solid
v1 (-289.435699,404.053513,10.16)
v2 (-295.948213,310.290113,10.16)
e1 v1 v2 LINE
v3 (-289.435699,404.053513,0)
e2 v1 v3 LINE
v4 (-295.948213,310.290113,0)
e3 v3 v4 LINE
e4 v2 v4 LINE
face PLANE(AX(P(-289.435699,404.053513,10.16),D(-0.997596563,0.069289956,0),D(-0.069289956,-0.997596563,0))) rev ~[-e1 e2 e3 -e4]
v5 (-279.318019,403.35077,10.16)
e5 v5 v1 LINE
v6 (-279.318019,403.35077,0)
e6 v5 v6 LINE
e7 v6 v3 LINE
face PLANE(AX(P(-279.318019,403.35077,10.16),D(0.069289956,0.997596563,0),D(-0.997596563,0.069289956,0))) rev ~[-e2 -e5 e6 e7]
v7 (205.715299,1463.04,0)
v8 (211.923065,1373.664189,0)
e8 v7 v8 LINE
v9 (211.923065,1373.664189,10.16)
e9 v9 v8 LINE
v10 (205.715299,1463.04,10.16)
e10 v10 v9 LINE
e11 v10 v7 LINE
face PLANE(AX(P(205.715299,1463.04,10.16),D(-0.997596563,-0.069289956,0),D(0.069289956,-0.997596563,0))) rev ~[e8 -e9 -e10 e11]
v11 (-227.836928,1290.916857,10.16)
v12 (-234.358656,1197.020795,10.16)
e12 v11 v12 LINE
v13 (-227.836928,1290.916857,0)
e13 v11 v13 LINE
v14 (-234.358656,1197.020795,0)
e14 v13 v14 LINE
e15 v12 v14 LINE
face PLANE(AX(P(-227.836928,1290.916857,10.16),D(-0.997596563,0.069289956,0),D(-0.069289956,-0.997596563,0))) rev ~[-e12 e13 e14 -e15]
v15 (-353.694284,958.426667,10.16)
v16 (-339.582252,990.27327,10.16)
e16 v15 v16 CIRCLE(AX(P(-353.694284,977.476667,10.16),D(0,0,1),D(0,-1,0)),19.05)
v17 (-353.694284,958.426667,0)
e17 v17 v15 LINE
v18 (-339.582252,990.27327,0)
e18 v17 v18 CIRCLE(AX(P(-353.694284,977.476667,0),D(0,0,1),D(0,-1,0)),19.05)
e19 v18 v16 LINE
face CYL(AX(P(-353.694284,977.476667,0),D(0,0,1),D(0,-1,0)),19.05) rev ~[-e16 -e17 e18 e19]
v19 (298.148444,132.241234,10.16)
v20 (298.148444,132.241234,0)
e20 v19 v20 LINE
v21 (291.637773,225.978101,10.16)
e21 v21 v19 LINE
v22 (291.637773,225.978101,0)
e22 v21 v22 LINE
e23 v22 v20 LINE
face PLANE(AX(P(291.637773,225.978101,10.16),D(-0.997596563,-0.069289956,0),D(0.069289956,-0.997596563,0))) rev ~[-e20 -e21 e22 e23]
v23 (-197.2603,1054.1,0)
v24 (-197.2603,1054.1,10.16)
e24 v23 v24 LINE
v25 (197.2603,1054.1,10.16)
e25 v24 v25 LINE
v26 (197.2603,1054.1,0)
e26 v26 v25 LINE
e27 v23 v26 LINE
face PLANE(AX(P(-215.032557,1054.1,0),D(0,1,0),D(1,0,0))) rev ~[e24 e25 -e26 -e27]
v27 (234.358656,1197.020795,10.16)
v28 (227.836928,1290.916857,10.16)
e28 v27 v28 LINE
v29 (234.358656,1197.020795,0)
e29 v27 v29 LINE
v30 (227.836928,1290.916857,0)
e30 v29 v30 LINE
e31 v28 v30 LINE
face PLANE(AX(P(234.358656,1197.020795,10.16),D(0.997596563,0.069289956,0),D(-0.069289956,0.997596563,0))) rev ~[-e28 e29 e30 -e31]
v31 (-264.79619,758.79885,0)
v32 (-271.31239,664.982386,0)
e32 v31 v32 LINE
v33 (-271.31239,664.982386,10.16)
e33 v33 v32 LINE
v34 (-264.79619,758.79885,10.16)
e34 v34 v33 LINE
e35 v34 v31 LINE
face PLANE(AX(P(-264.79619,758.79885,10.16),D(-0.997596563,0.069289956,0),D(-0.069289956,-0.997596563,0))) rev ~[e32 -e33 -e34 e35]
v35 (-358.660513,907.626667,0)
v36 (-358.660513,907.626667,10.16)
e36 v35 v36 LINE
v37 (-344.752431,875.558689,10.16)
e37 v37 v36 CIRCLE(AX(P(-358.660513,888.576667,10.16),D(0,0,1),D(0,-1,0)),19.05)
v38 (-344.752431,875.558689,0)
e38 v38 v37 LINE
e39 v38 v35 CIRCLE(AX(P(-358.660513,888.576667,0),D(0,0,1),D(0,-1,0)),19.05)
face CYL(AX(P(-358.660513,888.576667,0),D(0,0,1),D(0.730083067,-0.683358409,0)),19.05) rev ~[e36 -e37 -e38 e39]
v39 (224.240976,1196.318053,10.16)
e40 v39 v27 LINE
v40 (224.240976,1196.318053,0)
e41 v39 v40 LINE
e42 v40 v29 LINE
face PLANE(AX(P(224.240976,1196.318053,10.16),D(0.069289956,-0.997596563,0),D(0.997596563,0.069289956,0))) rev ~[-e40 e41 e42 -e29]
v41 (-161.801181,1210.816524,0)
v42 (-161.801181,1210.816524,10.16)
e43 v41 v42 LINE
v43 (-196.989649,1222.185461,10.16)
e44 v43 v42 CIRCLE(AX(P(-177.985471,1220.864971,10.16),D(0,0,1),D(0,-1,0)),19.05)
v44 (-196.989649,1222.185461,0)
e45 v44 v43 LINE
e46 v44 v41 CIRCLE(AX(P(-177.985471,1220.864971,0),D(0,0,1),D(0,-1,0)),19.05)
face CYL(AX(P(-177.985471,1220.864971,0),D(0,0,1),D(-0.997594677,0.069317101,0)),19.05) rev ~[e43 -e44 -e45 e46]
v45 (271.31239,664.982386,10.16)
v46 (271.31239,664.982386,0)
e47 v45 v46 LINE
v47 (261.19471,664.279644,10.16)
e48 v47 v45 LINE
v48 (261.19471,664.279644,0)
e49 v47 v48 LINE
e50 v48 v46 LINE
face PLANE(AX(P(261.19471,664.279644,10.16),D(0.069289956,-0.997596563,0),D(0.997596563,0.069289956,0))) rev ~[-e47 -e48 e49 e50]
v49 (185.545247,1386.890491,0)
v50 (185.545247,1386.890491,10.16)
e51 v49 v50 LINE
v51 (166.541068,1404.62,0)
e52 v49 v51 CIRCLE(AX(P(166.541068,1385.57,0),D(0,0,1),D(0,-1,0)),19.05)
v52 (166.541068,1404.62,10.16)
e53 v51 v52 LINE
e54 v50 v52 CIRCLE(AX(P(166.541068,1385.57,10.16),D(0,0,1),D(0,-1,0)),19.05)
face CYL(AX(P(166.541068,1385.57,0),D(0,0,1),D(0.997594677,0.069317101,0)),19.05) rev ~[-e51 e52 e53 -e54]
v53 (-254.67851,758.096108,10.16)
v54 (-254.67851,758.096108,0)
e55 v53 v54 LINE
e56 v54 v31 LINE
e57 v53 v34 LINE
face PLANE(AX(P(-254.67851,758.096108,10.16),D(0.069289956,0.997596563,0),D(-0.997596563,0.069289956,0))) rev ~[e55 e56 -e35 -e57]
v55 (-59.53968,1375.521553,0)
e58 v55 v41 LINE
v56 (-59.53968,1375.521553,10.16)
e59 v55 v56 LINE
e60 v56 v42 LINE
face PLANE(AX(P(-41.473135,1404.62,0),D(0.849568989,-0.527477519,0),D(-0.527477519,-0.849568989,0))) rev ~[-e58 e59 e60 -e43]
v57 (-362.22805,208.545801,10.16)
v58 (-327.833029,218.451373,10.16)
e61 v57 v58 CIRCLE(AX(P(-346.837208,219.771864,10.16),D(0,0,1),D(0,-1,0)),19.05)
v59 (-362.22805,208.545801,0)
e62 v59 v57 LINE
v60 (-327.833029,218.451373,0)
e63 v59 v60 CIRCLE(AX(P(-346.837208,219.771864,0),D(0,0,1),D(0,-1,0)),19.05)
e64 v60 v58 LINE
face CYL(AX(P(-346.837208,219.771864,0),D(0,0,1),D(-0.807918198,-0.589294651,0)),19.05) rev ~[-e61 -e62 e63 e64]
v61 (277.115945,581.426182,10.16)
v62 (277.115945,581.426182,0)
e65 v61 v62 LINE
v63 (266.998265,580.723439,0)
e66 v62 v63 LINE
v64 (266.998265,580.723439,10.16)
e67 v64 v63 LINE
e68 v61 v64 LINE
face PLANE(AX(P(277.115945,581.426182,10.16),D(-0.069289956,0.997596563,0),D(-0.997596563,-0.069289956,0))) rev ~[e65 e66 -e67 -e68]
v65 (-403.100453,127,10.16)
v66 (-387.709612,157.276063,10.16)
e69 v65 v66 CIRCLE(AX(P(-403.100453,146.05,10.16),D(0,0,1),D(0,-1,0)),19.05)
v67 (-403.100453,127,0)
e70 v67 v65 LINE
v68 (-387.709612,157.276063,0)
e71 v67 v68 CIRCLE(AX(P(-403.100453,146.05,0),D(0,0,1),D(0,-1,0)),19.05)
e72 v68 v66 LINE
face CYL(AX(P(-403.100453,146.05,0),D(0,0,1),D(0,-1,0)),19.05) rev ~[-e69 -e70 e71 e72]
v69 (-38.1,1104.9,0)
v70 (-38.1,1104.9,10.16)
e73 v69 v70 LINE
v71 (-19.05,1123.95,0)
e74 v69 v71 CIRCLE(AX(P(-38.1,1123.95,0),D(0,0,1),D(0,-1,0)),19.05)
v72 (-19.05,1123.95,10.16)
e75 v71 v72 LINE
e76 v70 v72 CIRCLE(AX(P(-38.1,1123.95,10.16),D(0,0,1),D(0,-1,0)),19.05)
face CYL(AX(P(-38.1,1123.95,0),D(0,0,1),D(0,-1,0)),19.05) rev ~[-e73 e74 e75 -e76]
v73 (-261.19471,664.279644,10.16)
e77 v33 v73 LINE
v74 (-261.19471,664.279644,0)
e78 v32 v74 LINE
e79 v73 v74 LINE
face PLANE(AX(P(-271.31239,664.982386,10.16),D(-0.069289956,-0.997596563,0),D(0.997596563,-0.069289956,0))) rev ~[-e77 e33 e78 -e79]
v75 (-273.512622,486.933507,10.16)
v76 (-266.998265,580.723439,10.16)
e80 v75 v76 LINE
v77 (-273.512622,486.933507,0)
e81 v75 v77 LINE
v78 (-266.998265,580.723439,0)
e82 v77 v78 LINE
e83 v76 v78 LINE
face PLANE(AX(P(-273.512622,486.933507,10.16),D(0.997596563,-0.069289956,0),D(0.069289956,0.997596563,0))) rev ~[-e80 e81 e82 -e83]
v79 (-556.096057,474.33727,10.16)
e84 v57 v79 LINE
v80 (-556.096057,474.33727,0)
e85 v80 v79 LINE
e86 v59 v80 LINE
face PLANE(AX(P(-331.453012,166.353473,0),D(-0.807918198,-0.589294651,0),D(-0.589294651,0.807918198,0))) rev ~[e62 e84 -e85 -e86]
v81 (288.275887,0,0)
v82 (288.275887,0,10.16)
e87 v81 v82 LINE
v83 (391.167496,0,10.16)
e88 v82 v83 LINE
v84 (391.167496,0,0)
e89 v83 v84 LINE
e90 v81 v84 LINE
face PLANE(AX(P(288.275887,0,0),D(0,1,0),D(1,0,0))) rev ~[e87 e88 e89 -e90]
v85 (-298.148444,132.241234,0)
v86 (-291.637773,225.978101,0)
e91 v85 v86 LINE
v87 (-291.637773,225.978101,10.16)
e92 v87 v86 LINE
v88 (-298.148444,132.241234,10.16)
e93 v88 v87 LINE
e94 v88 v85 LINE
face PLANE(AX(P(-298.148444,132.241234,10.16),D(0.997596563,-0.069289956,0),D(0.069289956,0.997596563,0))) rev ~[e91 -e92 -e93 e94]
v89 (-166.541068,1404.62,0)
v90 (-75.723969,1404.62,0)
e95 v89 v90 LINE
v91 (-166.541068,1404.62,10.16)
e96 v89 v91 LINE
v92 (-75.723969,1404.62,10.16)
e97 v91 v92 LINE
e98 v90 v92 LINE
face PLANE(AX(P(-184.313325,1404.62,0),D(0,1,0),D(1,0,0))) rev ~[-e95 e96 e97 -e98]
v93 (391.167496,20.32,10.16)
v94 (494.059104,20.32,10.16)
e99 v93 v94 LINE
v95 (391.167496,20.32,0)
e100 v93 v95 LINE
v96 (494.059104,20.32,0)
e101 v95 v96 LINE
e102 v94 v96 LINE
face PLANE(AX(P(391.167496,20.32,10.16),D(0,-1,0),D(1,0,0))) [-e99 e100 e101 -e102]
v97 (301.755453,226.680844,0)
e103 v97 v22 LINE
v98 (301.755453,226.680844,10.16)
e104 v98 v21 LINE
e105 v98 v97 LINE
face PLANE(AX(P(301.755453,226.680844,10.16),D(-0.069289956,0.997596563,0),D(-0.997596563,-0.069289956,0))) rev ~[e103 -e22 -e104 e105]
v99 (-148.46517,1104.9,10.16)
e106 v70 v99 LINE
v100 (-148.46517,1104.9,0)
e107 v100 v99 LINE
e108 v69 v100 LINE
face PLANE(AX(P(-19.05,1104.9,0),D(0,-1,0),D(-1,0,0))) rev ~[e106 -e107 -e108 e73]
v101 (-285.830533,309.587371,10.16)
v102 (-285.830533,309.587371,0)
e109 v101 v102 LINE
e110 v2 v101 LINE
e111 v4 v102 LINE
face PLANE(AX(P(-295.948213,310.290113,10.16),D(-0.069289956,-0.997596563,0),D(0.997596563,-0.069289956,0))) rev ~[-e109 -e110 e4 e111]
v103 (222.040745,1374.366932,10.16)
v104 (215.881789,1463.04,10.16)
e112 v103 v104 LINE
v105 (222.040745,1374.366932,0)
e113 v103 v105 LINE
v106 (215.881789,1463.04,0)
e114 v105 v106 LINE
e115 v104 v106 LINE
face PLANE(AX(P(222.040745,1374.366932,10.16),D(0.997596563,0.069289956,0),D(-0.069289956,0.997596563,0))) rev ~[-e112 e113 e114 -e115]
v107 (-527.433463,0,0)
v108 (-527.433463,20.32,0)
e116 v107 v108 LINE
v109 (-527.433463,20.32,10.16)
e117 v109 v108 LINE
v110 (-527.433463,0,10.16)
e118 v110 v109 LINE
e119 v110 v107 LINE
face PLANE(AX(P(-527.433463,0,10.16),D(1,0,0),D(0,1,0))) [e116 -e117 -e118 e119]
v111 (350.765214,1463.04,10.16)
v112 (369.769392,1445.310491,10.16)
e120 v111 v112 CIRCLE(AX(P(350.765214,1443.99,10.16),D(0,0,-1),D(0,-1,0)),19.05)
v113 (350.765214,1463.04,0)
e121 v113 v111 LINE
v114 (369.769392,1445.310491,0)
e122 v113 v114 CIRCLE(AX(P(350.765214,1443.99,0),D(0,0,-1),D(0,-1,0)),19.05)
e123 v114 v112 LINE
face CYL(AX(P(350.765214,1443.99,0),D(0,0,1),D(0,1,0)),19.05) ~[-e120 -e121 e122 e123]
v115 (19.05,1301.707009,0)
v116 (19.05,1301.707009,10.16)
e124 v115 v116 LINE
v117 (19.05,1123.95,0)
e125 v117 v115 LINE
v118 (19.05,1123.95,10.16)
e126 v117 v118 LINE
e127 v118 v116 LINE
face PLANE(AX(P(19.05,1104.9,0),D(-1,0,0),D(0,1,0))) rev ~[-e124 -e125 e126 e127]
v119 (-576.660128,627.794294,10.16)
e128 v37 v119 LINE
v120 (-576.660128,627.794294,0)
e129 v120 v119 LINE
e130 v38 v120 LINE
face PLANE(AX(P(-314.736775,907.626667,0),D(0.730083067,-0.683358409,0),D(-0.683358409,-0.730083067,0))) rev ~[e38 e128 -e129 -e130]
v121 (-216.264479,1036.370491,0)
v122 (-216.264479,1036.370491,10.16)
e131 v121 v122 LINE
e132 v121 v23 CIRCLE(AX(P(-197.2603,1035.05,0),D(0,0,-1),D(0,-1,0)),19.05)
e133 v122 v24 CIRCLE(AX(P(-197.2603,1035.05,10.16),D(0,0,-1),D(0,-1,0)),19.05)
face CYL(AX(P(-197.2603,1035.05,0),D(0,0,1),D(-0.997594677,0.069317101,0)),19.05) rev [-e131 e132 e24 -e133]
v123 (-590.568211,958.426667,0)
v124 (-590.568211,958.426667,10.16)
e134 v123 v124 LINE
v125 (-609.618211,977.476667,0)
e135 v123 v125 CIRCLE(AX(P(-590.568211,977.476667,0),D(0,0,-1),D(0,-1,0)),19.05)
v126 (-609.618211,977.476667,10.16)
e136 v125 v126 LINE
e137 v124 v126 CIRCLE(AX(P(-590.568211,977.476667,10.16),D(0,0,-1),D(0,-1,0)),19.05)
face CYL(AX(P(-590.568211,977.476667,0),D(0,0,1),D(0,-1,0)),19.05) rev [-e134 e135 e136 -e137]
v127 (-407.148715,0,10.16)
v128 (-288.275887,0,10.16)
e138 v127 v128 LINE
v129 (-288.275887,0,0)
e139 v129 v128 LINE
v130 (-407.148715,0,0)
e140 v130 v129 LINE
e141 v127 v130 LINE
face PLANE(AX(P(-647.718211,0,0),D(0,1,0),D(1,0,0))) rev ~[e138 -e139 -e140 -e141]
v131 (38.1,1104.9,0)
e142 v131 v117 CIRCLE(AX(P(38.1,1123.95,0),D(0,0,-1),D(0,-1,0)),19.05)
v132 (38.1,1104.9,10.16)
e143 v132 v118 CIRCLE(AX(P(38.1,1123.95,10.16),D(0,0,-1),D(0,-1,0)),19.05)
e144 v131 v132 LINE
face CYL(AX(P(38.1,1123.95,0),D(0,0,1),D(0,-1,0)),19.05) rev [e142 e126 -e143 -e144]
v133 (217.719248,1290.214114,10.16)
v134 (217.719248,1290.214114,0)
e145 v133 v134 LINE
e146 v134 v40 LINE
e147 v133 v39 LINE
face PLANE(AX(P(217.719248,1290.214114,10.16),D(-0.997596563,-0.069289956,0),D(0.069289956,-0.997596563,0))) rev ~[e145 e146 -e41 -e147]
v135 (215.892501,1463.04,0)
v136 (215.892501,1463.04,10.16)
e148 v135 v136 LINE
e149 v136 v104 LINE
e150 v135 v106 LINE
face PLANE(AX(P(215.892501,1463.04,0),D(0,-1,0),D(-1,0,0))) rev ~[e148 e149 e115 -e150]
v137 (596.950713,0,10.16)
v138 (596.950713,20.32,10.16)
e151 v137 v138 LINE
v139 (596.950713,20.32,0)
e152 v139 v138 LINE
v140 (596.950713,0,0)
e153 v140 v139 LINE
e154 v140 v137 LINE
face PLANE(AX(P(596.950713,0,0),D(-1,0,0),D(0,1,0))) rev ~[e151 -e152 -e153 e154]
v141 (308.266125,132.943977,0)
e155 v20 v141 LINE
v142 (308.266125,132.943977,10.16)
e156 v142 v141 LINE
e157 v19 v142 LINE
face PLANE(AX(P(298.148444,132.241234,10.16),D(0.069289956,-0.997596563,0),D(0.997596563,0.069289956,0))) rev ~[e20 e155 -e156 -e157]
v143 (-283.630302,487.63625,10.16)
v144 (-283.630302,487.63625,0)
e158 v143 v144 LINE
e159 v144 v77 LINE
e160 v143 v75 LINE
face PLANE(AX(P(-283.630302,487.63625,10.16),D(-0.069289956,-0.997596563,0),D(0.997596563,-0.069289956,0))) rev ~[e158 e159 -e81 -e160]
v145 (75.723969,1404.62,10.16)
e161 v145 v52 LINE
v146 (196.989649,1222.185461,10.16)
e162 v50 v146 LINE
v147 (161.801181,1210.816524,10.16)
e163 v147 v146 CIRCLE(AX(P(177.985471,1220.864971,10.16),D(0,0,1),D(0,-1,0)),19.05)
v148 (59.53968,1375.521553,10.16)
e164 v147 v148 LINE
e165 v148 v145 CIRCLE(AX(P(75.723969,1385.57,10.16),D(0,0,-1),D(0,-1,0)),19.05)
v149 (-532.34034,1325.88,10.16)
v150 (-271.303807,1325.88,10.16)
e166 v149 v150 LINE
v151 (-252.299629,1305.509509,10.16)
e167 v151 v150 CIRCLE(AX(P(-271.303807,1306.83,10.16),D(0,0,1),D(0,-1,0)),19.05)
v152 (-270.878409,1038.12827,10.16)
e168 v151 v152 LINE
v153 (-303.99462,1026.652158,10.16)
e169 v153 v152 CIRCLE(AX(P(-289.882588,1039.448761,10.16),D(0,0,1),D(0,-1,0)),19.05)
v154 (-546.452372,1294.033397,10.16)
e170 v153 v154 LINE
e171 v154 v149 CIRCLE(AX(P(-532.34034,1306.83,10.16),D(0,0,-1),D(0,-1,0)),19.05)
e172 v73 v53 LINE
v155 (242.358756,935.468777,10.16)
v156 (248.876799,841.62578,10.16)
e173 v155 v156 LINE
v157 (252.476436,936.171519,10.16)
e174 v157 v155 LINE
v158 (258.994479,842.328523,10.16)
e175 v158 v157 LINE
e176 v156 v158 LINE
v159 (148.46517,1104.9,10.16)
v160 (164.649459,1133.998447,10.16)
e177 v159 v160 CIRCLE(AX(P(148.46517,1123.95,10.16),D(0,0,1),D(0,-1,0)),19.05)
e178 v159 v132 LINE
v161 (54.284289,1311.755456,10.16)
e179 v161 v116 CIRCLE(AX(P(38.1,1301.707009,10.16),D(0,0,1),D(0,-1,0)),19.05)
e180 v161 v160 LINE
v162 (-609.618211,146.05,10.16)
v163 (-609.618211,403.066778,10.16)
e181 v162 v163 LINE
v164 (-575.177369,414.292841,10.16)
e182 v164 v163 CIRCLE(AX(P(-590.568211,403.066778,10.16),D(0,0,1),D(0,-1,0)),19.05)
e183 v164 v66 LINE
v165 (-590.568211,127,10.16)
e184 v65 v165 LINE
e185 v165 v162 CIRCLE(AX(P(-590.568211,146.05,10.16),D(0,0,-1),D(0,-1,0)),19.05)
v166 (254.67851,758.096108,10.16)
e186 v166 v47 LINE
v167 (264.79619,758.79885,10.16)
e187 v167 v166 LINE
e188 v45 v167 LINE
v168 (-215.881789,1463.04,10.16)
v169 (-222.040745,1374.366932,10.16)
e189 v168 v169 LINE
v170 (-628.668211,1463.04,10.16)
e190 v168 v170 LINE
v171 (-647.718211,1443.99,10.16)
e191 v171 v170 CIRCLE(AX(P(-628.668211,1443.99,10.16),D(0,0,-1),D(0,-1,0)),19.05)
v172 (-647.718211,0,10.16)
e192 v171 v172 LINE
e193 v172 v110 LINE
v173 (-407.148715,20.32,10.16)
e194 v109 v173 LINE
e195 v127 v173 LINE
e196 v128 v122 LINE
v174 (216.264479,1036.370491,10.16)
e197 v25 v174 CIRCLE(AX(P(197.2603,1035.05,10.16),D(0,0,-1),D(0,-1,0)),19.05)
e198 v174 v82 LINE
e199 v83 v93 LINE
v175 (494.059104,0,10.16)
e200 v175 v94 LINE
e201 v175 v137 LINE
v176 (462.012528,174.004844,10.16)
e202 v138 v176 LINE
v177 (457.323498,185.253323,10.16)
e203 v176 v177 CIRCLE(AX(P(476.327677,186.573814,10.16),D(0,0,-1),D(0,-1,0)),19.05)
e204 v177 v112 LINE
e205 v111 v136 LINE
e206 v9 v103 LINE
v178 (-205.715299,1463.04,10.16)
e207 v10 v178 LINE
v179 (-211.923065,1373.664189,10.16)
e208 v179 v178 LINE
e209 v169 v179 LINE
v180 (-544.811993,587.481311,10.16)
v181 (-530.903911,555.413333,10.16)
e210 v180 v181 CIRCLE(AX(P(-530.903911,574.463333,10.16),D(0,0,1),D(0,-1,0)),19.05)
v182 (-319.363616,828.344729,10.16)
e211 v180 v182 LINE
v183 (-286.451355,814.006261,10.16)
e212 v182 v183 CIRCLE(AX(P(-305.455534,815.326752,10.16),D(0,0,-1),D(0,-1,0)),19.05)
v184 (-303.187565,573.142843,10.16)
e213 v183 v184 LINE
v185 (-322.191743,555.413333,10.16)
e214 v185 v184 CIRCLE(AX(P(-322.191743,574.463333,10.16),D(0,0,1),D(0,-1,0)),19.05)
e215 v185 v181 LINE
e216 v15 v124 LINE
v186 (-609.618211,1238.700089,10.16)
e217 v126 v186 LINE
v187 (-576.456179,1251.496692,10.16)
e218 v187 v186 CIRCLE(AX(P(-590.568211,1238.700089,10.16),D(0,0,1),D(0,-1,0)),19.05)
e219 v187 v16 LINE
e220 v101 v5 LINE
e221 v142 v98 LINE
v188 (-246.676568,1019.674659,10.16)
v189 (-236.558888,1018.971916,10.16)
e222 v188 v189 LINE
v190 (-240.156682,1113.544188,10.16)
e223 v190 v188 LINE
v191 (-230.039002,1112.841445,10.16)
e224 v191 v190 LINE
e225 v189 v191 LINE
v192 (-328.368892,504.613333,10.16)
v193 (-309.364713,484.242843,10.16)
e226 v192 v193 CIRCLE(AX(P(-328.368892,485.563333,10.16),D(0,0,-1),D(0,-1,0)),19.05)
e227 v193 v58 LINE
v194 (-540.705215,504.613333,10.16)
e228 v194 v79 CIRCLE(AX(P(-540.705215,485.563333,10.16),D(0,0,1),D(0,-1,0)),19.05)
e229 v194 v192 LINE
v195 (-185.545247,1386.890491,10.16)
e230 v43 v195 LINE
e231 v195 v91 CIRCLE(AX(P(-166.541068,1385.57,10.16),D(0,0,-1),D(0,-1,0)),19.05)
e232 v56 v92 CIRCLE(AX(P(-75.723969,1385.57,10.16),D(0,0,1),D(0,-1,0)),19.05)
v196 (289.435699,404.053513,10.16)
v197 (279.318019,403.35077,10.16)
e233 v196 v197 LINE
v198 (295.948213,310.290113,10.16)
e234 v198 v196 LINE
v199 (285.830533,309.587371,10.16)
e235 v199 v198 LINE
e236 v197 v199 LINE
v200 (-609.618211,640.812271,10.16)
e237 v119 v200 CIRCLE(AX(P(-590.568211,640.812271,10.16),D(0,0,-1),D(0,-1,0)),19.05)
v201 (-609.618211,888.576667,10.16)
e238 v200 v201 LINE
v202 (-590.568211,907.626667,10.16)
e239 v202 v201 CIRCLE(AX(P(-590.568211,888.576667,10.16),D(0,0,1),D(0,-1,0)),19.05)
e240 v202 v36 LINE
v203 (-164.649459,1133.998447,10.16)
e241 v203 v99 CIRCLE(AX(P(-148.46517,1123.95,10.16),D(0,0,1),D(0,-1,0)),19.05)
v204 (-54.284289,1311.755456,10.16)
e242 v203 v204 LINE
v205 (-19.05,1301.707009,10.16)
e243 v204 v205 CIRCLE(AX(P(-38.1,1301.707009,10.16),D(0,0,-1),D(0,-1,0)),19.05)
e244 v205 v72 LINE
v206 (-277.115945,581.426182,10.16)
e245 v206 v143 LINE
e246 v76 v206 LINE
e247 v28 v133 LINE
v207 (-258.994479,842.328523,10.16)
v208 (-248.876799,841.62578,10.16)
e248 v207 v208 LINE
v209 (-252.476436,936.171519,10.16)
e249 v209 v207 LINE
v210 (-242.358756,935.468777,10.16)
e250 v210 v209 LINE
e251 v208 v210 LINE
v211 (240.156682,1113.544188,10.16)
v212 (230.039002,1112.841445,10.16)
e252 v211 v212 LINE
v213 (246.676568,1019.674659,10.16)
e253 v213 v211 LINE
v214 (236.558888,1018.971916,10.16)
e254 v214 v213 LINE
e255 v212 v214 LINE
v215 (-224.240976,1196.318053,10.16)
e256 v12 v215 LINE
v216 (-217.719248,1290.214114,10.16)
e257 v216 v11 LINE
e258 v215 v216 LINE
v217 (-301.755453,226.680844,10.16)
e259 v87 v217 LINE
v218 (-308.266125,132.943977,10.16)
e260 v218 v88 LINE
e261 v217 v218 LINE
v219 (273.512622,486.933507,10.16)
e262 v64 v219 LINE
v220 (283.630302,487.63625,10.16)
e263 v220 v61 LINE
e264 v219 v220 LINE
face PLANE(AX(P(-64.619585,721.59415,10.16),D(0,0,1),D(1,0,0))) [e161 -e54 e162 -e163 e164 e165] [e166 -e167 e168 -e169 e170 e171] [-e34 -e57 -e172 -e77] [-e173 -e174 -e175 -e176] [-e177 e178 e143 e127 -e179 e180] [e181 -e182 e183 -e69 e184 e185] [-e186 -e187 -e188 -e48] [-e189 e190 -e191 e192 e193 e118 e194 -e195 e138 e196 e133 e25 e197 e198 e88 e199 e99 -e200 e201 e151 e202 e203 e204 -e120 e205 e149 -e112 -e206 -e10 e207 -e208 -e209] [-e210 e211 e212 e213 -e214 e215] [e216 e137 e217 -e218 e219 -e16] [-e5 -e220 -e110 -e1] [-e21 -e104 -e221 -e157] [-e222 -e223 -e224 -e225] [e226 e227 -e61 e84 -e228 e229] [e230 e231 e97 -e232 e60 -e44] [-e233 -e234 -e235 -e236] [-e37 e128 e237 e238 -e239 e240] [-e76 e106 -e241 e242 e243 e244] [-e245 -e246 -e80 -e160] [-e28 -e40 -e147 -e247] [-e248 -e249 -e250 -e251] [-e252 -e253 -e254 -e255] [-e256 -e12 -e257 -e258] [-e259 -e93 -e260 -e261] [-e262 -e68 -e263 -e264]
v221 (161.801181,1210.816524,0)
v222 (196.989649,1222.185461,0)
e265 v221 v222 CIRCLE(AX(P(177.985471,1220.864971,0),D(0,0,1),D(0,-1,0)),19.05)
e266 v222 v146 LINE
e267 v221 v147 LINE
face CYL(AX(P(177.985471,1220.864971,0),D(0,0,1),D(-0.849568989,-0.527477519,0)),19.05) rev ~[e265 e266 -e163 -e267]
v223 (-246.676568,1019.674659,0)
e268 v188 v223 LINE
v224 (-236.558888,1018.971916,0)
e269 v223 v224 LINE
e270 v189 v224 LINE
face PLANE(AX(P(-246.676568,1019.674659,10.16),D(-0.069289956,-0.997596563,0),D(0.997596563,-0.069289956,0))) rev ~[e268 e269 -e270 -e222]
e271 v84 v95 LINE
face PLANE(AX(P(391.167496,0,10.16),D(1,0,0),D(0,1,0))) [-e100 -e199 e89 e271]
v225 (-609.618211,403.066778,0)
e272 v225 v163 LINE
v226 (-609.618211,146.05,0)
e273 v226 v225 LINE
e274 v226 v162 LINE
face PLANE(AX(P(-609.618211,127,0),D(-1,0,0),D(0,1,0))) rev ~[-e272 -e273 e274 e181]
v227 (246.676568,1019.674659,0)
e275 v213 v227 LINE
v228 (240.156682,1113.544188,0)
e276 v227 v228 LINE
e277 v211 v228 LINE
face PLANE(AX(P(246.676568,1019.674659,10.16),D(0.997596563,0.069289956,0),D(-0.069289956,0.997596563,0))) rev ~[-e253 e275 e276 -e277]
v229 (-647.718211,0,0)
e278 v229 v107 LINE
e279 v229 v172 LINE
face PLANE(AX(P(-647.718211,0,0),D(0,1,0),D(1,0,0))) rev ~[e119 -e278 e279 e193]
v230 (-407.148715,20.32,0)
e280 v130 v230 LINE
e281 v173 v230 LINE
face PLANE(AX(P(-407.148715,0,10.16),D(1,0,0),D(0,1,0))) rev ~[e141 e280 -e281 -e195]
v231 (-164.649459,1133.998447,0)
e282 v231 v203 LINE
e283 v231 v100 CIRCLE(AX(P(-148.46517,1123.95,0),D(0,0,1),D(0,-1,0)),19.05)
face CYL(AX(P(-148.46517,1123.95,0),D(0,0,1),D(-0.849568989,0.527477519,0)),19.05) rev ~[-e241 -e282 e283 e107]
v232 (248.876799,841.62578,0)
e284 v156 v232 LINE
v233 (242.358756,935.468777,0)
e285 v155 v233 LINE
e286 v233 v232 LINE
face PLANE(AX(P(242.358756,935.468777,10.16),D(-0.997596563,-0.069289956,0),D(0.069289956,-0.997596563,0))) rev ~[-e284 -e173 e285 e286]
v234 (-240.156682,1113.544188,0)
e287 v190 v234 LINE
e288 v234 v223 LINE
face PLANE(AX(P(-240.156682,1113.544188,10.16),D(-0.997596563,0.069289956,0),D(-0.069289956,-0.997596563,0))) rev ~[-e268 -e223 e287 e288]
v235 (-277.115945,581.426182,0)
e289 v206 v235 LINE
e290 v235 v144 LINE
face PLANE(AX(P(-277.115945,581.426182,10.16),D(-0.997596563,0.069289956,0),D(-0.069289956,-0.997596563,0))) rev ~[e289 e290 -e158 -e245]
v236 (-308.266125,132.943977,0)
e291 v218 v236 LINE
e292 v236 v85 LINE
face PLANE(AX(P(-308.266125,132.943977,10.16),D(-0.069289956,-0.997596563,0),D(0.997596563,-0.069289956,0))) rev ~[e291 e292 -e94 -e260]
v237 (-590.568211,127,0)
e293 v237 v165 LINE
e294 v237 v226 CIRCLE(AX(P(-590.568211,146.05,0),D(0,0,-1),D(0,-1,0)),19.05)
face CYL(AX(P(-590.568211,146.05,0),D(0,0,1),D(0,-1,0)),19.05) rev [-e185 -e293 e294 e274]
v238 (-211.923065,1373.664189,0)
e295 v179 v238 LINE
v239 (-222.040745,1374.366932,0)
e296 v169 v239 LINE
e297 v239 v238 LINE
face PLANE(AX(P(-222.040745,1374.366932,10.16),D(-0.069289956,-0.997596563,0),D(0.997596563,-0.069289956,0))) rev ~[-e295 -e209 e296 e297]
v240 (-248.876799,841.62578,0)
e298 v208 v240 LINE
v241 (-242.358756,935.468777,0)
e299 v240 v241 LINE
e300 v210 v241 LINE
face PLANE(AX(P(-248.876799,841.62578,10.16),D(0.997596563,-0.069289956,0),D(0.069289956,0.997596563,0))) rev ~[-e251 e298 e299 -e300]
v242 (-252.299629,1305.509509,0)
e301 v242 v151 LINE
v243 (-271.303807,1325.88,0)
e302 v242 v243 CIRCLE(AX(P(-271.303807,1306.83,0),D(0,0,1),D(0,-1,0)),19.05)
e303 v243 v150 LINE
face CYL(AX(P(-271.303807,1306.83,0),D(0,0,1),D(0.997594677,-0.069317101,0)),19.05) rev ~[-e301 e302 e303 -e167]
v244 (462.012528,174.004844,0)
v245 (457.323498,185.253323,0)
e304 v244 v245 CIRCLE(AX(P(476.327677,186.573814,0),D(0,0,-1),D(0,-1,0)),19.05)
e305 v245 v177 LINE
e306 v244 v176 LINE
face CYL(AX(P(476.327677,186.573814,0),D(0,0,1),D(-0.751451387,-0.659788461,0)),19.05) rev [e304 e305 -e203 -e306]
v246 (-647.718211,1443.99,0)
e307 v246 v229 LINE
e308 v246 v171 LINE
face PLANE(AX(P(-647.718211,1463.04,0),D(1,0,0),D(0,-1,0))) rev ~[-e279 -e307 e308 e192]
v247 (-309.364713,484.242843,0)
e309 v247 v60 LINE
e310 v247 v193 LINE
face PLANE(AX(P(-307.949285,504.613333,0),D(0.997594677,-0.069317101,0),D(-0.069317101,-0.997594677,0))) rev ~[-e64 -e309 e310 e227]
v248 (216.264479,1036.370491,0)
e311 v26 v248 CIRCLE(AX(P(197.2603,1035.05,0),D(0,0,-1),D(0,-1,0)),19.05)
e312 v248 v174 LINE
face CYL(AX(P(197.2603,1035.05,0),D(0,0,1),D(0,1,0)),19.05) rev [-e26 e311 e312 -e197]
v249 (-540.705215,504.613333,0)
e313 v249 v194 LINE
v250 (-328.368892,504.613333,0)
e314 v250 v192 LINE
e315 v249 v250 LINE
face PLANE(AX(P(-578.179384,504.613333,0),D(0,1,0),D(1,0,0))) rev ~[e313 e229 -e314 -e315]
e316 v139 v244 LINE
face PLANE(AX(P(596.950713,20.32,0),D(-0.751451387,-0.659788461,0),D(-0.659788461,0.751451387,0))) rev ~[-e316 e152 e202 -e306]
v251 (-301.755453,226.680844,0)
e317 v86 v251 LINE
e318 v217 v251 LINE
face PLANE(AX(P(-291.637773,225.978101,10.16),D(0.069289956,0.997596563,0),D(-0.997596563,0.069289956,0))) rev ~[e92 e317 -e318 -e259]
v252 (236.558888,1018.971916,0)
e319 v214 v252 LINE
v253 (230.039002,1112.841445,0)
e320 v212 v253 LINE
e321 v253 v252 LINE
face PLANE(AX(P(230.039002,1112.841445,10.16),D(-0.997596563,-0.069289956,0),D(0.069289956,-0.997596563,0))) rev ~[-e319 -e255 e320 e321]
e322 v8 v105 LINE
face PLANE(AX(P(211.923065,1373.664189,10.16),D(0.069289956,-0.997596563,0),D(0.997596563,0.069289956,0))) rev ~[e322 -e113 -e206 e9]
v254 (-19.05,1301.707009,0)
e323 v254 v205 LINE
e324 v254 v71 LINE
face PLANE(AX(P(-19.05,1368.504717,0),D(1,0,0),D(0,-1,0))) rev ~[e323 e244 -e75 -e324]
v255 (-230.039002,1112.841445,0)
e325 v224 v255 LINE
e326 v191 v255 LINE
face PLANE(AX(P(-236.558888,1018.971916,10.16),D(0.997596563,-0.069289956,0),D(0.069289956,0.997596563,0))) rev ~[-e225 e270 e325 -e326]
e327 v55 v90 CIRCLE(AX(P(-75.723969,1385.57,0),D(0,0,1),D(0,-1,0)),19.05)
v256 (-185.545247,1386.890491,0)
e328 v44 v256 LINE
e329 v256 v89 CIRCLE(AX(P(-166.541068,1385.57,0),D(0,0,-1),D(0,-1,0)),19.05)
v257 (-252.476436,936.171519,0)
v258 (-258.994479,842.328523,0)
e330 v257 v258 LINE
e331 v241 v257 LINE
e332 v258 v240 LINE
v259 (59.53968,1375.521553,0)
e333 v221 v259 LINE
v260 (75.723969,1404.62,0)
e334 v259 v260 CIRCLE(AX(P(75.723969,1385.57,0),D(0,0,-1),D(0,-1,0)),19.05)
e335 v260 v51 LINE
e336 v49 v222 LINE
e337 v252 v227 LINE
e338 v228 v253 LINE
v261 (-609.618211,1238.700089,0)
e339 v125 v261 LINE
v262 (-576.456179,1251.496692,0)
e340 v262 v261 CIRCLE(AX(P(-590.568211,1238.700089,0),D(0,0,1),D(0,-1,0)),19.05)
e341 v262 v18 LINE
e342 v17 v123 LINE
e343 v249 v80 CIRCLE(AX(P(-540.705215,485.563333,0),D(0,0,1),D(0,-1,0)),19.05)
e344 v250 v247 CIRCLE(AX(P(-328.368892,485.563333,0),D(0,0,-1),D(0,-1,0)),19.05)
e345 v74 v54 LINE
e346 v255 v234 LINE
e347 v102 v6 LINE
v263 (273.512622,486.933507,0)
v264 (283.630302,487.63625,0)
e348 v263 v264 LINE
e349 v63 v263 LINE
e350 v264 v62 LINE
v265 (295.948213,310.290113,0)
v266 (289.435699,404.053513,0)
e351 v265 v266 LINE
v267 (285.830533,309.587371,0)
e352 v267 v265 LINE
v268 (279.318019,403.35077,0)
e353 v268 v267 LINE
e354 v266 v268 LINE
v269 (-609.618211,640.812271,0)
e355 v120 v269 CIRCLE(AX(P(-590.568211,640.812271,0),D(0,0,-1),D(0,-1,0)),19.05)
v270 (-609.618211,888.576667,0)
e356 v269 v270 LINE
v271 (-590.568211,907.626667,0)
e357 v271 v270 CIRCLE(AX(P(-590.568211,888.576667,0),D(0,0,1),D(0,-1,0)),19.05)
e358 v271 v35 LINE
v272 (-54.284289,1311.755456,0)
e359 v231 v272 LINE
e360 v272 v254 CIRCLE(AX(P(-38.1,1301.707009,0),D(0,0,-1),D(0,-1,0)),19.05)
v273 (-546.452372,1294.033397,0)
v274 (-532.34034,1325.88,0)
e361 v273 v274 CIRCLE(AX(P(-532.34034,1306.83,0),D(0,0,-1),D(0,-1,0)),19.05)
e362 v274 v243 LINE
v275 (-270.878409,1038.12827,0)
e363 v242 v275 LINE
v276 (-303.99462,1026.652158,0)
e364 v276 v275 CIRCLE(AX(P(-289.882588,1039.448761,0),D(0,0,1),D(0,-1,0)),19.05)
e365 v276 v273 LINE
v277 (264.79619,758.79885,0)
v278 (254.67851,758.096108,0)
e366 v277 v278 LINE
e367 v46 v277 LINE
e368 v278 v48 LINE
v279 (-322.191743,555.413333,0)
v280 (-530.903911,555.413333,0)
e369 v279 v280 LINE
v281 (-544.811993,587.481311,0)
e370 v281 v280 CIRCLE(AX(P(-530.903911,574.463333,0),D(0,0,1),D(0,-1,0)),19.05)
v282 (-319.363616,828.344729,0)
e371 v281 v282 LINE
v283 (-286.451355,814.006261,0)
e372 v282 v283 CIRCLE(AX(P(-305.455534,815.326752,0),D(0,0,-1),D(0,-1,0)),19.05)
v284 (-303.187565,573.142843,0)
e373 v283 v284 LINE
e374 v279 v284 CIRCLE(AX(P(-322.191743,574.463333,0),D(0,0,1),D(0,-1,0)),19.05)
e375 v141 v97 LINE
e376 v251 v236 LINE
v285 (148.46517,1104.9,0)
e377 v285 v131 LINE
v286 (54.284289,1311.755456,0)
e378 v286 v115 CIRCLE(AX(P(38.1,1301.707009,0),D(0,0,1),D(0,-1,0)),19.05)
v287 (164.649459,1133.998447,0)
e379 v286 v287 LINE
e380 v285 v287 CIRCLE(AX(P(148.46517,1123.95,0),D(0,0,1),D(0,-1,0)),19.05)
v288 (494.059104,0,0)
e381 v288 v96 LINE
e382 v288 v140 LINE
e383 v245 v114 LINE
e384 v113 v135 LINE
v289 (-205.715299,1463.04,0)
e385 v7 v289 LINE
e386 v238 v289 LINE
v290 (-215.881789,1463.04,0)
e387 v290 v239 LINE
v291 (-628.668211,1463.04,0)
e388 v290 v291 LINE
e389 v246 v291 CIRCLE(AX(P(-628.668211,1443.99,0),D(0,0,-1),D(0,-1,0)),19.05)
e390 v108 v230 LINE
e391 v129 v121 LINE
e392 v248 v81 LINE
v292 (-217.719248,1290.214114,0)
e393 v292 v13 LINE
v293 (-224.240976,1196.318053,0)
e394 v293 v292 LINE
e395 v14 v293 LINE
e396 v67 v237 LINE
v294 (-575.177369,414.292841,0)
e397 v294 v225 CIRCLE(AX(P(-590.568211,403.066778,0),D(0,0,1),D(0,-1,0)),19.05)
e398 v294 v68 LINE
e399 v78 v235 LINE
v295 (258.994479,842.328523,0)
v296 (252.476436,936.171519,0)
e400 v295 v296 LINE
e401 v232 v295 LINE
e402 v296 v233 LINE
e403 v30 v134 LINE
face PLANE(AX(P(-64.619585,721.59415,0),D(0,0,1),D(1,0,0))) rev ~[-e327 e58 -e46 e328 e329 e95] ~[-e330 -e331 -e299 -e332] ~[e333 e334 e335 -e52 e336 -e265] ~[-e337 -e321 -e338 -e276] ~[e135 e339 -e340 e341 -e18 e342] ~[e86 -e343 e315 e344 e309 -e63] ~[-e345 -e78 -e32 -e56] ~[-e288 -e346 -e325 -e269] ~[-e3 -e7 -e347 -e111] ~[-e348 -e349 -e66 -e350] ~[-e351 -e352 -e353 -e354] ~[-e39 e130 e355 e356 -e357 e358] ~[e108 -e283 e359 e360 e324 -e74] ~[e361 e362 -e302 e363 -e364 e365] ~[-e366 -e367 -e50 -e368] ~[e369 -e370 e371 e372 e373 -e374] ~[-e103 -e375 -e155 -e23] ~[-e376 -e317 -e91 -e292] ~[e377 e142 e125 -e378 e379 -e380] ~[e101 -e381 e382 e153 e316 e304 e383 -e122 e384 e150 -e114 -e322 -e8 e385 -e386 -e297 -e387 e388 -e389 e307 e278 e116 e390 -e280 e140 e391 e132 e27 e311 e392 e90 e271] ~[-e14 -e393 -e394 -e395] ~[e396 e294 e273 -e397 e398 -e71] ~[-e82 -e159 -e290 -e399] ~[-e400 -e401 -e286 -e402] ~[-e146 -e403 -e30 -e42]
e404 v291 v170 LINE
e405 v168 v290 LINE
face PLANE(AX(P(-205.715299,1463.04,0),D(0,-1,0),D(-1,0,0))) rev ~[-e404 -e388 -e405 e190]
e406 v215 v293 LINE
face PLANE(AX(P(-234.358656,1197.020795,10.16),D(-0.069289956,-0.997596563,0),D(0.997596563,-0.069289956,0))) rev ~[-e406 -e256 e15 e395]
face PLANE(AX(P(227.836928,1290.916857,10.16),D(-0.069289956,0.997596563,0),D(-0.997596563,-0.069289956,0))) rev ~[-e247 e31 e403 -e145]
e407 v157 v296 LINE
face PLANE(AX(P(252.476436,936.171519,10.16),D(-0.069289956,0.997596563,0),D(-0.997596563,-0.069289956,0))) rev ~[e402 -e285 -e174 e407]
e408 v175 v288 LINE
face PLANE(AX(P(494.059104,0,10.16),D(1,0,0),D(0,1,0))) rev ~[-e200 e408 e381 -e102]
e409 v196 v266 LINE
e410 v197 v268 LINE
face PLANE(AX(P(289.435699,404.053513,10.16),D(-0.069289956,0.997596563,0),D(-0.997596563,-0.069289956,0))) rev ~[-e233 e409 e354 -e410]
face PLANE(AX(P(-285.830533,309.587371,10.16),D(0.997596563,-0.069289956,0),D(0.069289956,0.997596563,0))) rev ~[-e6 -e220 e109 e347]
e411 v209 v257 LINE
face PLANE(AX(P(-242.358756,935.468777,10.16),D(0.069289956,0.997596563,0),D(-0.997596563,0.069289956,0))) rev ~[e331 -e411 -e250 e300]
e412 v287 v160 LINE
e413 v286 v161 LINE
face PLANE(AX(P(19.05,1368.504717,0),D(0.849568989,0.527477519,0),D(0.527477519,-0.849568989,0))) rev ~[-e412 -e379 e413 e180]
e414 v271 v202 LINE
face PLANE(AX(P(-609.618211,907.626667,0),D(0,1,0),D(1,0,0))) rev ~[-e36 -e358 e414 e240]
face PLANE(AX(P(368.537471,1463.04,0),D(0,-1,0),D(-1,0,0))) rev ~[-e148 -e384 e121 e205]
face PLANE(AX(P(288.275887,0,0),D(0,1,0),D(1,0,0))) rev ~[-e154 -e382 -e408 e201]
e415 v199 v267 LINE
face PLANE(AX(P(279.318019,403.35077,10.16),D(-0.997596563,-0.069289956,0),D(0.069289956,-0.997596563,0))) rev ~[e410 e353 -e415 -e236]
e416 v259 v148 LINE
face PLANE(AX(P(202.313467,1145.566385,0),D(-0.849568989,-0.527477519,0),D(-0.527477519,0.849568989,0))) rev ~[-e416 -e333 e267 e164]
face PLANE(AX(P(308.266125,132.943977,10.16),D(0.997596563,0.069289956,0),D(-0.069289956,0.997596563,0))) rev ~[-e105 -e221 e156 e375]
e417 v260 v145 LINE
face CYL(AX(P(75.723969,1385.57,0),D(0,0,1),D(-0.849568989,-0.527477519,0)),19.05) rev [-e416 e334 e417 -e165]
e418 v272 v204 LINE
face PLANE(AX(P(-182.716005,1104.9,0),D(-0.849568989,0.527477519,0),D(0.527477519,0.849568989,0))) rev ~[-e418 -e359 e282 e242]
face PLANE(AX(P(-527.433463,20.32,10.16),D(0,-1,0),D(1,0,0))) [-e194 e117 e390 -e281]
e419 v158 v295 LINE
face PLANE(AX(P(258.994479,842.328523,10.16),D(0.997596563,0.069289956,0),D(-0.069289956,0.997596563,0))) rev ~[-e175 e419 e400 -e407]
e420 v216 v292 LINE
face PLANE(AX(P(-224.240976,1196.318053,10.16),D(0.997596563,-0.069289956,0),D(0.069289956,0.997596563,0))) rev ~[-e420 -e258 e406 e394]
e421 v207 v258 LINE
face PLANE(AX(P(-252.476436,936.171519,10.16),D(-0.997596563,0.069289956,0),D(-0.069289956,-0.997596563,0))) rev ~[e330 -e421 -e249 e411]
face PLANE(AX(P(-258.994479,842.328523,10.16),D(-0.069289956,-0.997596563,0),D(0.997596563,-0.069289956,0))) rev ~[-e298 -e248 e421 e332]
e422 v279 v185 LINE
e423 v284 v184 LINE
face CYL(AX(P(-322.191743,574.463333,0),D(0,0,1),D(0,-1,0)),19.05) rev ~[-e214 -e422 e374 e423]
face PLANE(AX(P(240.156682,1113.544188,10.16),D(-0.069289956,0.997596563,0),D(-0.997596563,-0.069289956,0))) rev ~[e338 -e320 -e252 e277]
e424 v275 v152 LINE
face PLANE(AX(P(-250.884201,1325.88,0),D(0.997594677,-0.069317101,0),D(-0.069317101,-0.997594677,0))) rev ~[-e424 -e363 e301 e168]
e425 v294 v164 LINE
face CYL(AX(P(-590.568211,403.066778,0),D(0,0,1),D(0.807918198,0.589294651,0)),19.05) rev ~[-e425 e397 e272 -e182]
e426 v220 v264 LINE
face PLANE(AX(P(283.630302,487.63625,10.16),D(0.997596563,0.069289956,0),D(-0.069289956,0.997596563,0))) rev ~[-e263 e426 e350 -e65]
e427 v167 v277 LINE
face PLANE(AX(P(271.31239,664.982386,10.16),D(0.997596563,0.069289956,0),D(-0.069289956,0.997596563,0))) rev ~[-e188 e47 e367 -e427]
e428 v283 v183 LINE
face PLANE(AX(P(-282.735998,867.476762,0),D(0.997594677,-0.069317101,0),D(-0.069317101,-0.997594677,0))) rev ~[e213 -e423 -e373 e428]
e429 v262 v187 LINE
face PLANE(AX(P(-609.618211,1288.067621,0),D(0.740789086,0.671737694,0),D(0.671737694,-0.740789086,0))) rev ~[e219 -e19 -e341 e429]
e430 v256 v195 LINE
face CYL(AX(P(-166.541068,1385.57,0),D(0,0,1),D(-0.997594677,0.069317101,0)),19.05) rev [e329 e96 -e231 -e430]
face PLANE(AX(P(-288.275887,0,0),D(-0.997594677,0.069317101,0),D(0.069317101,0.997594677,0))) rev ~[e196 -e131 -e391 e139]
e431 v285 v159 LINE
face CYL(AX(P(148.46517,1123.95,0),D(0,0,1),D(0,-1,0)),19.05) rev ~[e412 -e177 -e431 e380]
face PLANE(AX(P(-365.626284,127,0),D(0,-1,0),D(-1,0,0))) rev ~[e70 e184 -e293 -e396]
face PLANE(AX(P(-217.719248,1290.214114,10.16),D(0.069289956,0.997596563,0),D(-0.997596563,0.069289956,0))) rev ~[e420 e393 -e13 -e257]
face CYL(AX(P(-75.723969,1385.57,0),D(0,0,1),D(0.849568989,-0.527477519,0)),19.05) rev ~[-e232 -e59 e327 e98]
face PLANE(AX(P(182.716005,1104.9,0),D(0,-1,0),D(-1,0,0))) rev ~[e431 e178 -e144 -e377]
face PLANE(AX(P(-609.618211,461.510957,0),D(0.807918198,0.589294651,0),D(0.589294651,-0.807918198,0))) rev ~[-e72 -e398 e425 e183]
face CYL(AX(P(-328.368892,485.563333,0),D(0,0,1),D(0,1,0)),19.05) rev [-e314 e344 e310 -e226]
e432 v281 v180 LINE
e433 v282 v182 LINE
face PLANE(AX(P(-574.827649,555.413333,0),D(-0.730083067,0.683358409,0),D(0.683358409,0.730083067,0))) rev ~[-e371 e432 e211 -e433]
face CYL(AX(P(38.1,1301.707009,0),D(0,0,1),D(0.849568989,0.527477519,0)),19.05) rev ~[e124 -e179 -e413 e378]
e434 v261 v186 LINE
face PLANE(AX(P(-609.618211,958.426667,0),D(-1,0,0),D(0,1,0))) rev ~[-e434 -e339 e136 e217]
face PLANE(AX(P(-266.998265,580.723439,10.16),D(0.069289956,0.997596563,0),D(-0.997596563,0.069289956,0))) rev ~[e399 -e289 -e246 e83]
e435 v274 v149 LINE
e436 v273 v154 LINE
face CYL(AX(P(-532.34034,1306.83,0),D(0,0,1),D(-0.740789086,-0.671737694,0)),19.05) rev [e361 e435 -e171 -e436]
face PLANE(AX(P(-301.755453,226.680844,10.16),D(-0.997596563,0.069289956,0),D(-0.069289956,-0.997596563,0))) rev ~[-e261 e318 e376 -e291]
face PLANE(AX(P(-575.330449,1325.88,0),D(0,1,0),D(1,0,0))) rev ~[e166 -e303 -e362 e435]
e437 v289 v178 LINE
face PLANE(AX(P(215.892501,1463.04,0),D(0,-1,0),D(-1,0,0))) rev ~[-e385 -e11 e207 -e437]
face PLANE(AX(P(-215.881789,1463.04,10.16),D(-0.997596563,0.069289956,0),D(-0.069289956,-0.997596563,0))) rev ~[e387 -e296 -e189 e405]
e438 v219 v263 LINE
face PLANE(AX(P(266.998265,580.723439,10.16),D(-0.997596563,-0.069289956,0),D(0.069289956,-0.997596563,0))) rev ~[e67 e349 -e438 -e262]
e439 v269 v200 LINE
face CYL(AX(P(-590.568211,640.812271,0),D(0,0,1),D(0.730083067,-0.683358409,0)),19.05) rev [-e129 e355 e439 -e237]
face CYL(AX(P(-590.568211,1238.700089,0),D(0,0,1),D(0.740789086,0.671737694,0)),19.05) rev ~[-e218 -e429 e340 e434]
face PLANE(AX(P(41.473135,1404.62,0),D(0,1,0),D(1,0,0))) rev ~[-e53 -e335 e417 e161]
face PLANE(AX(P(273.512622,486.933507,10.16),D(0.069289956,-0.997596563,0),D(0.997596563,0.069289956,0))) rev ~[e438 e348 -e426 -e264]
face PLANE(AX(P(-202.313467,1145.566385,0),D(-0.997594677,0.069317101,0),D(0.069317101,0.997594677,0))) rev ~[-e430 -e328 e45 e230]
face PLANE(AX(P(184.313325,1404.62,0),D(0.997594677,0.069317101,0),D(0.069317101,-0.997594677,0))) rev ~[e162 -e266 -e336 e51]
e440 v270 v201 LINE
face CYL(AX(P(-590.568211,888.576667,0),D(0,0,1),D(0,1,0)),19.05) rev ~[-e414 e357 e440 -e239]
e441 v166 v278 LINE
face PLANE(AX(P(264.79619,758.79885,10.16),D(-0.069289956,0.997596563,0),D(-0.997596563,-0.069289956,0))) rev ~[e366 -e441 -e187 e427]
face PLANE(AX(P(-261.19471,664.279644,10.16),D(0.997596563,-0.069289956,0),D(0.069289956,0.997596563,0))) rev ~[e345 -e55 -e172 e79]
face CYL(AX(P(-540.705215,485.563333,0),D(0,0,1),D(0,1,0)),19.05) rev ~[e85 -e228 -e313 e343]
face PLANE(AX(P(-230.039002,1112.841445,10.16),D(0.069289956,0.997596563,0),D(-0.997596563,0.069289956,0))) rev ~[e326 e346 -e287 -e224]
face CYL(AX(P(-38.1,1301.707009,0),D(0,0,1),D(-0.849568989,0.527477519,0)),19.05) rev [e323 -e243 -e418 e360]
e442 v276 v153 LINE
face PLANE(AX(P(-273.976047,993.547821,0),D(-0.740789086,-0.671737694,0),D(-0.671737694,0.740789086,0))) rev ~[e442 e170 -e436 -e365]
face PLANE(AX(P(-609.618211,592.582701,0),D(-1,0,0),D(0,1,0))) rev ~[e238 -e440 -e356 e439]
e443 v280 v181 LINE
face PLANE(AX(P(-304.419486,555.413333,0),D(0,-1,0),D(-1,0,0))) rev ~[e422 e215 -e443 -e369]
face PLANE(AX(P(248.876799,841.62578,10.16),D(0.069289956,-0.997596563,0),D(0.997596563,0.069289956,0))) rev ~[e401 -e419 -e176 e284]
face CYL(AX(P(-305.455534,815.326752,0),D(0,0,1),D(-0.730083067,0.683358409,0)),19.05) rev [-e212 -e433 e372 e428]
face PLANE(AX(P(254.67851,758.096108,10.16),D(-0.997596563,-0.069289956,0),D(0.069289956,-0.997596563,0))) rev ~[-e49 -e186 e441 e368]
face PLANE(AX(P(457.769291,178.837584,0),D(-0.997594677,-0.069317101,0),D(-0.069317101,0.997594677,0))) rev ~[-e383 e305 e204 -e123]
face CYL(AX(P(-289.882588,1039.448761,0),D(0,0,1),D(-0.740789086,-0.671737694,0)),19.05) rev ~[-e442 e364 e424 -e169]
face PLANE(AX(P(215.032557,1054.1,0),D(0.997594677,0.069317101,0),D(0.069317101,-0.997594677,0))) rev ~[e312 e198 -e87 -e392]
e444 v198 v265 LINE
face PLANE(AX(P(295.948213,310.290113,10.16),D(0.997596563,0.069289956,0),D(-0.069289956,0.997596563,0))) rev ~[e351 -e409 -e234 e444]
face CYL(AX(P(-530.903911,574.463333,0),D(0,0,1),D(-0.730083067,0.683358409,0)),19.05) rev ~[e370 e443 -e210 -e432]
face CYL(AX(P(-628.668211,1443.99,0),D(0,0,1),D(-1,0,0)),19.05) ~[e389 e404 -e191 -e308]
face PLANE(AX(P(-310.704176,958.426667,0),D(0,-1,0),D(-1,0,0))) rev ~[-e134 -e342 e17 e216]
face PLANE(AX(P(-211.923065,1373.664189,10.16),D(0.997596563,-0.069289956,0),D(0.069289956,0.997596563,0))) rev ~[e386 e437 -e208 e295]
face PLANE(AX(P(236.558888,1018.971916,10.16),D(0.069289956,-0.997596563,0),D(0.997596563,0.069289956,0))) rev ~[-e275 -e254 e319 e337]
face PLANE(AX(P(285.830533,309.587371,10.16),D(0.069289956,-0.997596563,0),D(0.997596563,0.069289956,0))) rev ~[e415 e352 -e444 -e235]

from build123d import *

# Parameters (mm, degrees)
BOSS_EXTRUDE1_DEPTH = 10.16
FILLET1_R           = 19.05
SKETCH2_W           = 120.284747719
SKETCH2_H           = 20.32
SKETCH2_W_2         = 102.891608588
CUT_EXTRUDE1_DEPTH  = 12.7


with BuildPart() as part:
    # Sketch1 → Boss-Extrude1 (new body)
    with BuildSketch(Plane.XY):
        Polygon((-288.275887252, 0), (-215.032557346, 1054.1), (215.032557346, 1054.1), (288.275887252, 0), (596.950713016, 0), (596.950713016, 20.32), (457.769290722, 178.8375841), (368.537470958, 1463.04), (215.892500906, 1463.04), (-205.715298803, 1463.040000035), (-647.718210796, 1463.04), (-647.718210796, 0), align=None)
        Polygon((-609.618210796, 127), (-609.618210796, 461.510956689), (-365.626284392, 127), align=None, mode=Mode.SUBTRACT)
        Polygon((-609.618210796, 592.582701044), (-609.618210796, 907.626666667), (-314.736774564, 907.626666667), align=None, mode=Mode.SUBTRACT)
        Polygon((-282.735998162, 867.476761947), (-304.419486117, 555.413333333), (-574.827649063, 555.413333333), align=None, mode=Mode.SUBTRACT)
        Polygon((-307.949285149, 504.613333333), (-331.453012037, 166.353473425), (-578.179384354, 504.613333333), align=None, mode=Mode.SUBTRACT)
        Polygon((-609.618210796, 958.426666667), (-609.618210796, 1288.067621407), (-310.704175954, 958.426666667), align=None, mode=Mode.SUBTRACT)
        Polygon((-575.330448642, 1325.88), (-250.884200804, 1325.88), (-273.976047339, 993.547820907), align=None, mode=Mode.SUBTRACT)
        Polygon((19.05, 1104.9), (19.05, 1368.504716774), (182.716004616, 1104.9), align=None, mode=Mode.SUBTRACT)
        Polygon((41.473134849, 1404.62), (184.313325179, 1404.62), (202.313466912, 1145.566384812), align=None, mode=Mode.SUBTRACT)
        Polygon((-184.313325179, 1404.62), (-41.473134849, 1404.62), (-202.313466912, 1145.566384812), align=None, mode=Mode.SUBTRACT)
        Polygon((-19.05, 1368.504716774), (-19.05, 1104.9), (-182.716004616, 1104.9), align=None, mode=Mode.SUBTRACT)
    extrude(amount=BOSS_EXTRUDE1_DEPTH)

    # Fillet1
    fillet1_edges = [part.edges().sort_by_distance(p)[0] for p in [
        (19.05, 1368.504716774, 5.08),
        (19.05, 1104.9, 5.08),
        (182.716004616, 1104.9, 5.08),
        (-250.884200804, 1325.88, 5.08),
        (-575.330448642, 1325.88, 5.08),
        (-273.976047339, 993.547820907, 5.08),
        (-647.718210796, 1463.04, 5.08),
        (368.537470958, 1463.04, 5.08),
        (457.769290722, 178.8375841, 5.08),
        (215.032557346, 1054.1, 5.08),
        (-215.032557346, 1054.1, 5.08),
        (-609.618210796, 1288.067621407, 5.08),
        (-609.618210796, 958.426666667, 5.08),
        (-310.704175954, 958.426666667, 5.08),
        (-609.618210796, 461.510956689, 5.08),
        (-609.618210796, 127, 5.08),
        (-365.626284392, 127, 5.08),
        (-41.473134849, 1404.62, 5.08),
        (-184.313325179, 1404.62, 5.08),
        (-202.313466912, 1145.566384812, 5.08),
        (-182.716004616, 1104.9, 5.08),
        (-19.05, 1104.9, 5.08),
        (-19.05, 1368.504716774, 5.08),
        (184.313325179, 1404.62, 5.08),
        (41.473134849, 1404.62, 5.08),
        (202.313466912, 1145.566384812, 5.08),
        (-578.179384354, 504.613333333, 5.08),
        (-331.453012037, 166.353473425, 5.08),
        (-307.949285149, 504.613333333, 5.08),
        (-609.618210796, 907.626666667, 5.08),
        (-609.618210796, 592.582701044, 5.08),
        (-314.736774564, 907.626666667, 5.08),
        (-574.827649063, 555.413333333, 5.08),
        (-304.419486117, 555.413333333, 5.08),
        (-282.735998162, 867.476761947, 5.08),
    ]]
    fillet(fillet1_edges, radius=FILLET1_R)

    # Sketch2 → Cut-Extrude1 (cut)
    with BuildSketch(Plane.XY.offset(10.16)):
        with Locations((-467.291089218, 10.16)):
            Rectangle(SKETCH2_W, SKETCH2_H)
        with Locations((442.613300134, 10.16)):
            Rectangle(SKETCH2_W_2, SKETCH2_H)
        Polygon((211.92306481, 1373.664189215), (222.040744894, 1374.366931824), (215.881789204, 1463.040000035), (205.715298803, 1463.040000035), align=None)
        Polygon((234.358656272, 1197.020795404), (227.836927701, 1290.916856945), (217.719247617, 1290.214114336), (224.240976188, 1196.318052795), align=None)
        Polygon((246.676567651, 1019.674658983), (240.15668194, 1113.544188093), (230.039001856, 1112.841445484), (236.558887567, 1018.971916374), align=None)
        Polygon((258.99447903, 842.328522563), (252.476436179, 936.171519242), (242.358756095, 935.468776633), (248.876798945, 841.625779953), align=None)
        Polygon((271.312390408, 664.982386142), (264.796190418, 758.798850391), (254.678510334, 758.096107781), (261.194710324, 664.279643533), align=None)
        Polygon((283.630301787, 487.636249721), (277.115944656, 581.426181539), (266.998264572, 580.72343893), (273.512621703, 486.933507112), align=None)
        Polygon((295.948213166, 310.290113301), (289.435698895, 404.053512688), (279.318018811, 403.350770078), (285.830533081, 309.587370692), align=None)
        Polygon((308.266124544, 132.94397688), (301.755453134, 226.680843836), (291.63777305, 225.978101227), (298.14844446, 132.241234271), align=None)
        Polygon((-301.755453134, 226.680843836), (-308.266124544, 132.94397688), (-298.14844446, 132.241234271), (-291.63777305, 225.978101227), align=None)
        Polygon((-289.435698895, 404.053512688), (-295.948213166, 310.290113301), (-285.830533081, 309.587370692), (-279.318018811, 403.350770078), align=None)
        Polygon((-277.115944656, 581.426181539), (-283.630301787, 487.636249721), (-273.512621703, 486.933507112), (-266.998264572, 580.72343893), align=None)
        Polygon((-264.796190418, 758.798850391), (-271.312390408, 664.982386142), (-261.194710324, 664.279643533), (-254.678510334, 758.096107781), align=None)
        Polygon((-252.476436179, 936.171519242), (-258.99447903, 842.328522563), (-248.876798945, 841.625779953), (-242.358756095, 935.468776633), align=None)
        Polygon((-240.15668194, 1113.544188093), (-246.676567651, 1019.674658983), (-236.558887567, 1018.971916374), (-230.039001856, 1112.841445484), align=None)
        Polygon((-227.836927701, 1290.916856945), (-234.358656272, 1197.020795404), (-224.240976188, 1196.318052795), (-217.719247617, 1290.214114336), align=None)
        Polygon((-222.040744894, 1374.366931824), (-211.92306481, 1373.664189215), (-205.715298803, 1463.040000035), (-215.881789204, 1463.040000035), align=None)
    extrude(amount=-CUT_EXTRUDE1_DEPTH, mode=Mode.SUBTRACT)


solid = part.part
